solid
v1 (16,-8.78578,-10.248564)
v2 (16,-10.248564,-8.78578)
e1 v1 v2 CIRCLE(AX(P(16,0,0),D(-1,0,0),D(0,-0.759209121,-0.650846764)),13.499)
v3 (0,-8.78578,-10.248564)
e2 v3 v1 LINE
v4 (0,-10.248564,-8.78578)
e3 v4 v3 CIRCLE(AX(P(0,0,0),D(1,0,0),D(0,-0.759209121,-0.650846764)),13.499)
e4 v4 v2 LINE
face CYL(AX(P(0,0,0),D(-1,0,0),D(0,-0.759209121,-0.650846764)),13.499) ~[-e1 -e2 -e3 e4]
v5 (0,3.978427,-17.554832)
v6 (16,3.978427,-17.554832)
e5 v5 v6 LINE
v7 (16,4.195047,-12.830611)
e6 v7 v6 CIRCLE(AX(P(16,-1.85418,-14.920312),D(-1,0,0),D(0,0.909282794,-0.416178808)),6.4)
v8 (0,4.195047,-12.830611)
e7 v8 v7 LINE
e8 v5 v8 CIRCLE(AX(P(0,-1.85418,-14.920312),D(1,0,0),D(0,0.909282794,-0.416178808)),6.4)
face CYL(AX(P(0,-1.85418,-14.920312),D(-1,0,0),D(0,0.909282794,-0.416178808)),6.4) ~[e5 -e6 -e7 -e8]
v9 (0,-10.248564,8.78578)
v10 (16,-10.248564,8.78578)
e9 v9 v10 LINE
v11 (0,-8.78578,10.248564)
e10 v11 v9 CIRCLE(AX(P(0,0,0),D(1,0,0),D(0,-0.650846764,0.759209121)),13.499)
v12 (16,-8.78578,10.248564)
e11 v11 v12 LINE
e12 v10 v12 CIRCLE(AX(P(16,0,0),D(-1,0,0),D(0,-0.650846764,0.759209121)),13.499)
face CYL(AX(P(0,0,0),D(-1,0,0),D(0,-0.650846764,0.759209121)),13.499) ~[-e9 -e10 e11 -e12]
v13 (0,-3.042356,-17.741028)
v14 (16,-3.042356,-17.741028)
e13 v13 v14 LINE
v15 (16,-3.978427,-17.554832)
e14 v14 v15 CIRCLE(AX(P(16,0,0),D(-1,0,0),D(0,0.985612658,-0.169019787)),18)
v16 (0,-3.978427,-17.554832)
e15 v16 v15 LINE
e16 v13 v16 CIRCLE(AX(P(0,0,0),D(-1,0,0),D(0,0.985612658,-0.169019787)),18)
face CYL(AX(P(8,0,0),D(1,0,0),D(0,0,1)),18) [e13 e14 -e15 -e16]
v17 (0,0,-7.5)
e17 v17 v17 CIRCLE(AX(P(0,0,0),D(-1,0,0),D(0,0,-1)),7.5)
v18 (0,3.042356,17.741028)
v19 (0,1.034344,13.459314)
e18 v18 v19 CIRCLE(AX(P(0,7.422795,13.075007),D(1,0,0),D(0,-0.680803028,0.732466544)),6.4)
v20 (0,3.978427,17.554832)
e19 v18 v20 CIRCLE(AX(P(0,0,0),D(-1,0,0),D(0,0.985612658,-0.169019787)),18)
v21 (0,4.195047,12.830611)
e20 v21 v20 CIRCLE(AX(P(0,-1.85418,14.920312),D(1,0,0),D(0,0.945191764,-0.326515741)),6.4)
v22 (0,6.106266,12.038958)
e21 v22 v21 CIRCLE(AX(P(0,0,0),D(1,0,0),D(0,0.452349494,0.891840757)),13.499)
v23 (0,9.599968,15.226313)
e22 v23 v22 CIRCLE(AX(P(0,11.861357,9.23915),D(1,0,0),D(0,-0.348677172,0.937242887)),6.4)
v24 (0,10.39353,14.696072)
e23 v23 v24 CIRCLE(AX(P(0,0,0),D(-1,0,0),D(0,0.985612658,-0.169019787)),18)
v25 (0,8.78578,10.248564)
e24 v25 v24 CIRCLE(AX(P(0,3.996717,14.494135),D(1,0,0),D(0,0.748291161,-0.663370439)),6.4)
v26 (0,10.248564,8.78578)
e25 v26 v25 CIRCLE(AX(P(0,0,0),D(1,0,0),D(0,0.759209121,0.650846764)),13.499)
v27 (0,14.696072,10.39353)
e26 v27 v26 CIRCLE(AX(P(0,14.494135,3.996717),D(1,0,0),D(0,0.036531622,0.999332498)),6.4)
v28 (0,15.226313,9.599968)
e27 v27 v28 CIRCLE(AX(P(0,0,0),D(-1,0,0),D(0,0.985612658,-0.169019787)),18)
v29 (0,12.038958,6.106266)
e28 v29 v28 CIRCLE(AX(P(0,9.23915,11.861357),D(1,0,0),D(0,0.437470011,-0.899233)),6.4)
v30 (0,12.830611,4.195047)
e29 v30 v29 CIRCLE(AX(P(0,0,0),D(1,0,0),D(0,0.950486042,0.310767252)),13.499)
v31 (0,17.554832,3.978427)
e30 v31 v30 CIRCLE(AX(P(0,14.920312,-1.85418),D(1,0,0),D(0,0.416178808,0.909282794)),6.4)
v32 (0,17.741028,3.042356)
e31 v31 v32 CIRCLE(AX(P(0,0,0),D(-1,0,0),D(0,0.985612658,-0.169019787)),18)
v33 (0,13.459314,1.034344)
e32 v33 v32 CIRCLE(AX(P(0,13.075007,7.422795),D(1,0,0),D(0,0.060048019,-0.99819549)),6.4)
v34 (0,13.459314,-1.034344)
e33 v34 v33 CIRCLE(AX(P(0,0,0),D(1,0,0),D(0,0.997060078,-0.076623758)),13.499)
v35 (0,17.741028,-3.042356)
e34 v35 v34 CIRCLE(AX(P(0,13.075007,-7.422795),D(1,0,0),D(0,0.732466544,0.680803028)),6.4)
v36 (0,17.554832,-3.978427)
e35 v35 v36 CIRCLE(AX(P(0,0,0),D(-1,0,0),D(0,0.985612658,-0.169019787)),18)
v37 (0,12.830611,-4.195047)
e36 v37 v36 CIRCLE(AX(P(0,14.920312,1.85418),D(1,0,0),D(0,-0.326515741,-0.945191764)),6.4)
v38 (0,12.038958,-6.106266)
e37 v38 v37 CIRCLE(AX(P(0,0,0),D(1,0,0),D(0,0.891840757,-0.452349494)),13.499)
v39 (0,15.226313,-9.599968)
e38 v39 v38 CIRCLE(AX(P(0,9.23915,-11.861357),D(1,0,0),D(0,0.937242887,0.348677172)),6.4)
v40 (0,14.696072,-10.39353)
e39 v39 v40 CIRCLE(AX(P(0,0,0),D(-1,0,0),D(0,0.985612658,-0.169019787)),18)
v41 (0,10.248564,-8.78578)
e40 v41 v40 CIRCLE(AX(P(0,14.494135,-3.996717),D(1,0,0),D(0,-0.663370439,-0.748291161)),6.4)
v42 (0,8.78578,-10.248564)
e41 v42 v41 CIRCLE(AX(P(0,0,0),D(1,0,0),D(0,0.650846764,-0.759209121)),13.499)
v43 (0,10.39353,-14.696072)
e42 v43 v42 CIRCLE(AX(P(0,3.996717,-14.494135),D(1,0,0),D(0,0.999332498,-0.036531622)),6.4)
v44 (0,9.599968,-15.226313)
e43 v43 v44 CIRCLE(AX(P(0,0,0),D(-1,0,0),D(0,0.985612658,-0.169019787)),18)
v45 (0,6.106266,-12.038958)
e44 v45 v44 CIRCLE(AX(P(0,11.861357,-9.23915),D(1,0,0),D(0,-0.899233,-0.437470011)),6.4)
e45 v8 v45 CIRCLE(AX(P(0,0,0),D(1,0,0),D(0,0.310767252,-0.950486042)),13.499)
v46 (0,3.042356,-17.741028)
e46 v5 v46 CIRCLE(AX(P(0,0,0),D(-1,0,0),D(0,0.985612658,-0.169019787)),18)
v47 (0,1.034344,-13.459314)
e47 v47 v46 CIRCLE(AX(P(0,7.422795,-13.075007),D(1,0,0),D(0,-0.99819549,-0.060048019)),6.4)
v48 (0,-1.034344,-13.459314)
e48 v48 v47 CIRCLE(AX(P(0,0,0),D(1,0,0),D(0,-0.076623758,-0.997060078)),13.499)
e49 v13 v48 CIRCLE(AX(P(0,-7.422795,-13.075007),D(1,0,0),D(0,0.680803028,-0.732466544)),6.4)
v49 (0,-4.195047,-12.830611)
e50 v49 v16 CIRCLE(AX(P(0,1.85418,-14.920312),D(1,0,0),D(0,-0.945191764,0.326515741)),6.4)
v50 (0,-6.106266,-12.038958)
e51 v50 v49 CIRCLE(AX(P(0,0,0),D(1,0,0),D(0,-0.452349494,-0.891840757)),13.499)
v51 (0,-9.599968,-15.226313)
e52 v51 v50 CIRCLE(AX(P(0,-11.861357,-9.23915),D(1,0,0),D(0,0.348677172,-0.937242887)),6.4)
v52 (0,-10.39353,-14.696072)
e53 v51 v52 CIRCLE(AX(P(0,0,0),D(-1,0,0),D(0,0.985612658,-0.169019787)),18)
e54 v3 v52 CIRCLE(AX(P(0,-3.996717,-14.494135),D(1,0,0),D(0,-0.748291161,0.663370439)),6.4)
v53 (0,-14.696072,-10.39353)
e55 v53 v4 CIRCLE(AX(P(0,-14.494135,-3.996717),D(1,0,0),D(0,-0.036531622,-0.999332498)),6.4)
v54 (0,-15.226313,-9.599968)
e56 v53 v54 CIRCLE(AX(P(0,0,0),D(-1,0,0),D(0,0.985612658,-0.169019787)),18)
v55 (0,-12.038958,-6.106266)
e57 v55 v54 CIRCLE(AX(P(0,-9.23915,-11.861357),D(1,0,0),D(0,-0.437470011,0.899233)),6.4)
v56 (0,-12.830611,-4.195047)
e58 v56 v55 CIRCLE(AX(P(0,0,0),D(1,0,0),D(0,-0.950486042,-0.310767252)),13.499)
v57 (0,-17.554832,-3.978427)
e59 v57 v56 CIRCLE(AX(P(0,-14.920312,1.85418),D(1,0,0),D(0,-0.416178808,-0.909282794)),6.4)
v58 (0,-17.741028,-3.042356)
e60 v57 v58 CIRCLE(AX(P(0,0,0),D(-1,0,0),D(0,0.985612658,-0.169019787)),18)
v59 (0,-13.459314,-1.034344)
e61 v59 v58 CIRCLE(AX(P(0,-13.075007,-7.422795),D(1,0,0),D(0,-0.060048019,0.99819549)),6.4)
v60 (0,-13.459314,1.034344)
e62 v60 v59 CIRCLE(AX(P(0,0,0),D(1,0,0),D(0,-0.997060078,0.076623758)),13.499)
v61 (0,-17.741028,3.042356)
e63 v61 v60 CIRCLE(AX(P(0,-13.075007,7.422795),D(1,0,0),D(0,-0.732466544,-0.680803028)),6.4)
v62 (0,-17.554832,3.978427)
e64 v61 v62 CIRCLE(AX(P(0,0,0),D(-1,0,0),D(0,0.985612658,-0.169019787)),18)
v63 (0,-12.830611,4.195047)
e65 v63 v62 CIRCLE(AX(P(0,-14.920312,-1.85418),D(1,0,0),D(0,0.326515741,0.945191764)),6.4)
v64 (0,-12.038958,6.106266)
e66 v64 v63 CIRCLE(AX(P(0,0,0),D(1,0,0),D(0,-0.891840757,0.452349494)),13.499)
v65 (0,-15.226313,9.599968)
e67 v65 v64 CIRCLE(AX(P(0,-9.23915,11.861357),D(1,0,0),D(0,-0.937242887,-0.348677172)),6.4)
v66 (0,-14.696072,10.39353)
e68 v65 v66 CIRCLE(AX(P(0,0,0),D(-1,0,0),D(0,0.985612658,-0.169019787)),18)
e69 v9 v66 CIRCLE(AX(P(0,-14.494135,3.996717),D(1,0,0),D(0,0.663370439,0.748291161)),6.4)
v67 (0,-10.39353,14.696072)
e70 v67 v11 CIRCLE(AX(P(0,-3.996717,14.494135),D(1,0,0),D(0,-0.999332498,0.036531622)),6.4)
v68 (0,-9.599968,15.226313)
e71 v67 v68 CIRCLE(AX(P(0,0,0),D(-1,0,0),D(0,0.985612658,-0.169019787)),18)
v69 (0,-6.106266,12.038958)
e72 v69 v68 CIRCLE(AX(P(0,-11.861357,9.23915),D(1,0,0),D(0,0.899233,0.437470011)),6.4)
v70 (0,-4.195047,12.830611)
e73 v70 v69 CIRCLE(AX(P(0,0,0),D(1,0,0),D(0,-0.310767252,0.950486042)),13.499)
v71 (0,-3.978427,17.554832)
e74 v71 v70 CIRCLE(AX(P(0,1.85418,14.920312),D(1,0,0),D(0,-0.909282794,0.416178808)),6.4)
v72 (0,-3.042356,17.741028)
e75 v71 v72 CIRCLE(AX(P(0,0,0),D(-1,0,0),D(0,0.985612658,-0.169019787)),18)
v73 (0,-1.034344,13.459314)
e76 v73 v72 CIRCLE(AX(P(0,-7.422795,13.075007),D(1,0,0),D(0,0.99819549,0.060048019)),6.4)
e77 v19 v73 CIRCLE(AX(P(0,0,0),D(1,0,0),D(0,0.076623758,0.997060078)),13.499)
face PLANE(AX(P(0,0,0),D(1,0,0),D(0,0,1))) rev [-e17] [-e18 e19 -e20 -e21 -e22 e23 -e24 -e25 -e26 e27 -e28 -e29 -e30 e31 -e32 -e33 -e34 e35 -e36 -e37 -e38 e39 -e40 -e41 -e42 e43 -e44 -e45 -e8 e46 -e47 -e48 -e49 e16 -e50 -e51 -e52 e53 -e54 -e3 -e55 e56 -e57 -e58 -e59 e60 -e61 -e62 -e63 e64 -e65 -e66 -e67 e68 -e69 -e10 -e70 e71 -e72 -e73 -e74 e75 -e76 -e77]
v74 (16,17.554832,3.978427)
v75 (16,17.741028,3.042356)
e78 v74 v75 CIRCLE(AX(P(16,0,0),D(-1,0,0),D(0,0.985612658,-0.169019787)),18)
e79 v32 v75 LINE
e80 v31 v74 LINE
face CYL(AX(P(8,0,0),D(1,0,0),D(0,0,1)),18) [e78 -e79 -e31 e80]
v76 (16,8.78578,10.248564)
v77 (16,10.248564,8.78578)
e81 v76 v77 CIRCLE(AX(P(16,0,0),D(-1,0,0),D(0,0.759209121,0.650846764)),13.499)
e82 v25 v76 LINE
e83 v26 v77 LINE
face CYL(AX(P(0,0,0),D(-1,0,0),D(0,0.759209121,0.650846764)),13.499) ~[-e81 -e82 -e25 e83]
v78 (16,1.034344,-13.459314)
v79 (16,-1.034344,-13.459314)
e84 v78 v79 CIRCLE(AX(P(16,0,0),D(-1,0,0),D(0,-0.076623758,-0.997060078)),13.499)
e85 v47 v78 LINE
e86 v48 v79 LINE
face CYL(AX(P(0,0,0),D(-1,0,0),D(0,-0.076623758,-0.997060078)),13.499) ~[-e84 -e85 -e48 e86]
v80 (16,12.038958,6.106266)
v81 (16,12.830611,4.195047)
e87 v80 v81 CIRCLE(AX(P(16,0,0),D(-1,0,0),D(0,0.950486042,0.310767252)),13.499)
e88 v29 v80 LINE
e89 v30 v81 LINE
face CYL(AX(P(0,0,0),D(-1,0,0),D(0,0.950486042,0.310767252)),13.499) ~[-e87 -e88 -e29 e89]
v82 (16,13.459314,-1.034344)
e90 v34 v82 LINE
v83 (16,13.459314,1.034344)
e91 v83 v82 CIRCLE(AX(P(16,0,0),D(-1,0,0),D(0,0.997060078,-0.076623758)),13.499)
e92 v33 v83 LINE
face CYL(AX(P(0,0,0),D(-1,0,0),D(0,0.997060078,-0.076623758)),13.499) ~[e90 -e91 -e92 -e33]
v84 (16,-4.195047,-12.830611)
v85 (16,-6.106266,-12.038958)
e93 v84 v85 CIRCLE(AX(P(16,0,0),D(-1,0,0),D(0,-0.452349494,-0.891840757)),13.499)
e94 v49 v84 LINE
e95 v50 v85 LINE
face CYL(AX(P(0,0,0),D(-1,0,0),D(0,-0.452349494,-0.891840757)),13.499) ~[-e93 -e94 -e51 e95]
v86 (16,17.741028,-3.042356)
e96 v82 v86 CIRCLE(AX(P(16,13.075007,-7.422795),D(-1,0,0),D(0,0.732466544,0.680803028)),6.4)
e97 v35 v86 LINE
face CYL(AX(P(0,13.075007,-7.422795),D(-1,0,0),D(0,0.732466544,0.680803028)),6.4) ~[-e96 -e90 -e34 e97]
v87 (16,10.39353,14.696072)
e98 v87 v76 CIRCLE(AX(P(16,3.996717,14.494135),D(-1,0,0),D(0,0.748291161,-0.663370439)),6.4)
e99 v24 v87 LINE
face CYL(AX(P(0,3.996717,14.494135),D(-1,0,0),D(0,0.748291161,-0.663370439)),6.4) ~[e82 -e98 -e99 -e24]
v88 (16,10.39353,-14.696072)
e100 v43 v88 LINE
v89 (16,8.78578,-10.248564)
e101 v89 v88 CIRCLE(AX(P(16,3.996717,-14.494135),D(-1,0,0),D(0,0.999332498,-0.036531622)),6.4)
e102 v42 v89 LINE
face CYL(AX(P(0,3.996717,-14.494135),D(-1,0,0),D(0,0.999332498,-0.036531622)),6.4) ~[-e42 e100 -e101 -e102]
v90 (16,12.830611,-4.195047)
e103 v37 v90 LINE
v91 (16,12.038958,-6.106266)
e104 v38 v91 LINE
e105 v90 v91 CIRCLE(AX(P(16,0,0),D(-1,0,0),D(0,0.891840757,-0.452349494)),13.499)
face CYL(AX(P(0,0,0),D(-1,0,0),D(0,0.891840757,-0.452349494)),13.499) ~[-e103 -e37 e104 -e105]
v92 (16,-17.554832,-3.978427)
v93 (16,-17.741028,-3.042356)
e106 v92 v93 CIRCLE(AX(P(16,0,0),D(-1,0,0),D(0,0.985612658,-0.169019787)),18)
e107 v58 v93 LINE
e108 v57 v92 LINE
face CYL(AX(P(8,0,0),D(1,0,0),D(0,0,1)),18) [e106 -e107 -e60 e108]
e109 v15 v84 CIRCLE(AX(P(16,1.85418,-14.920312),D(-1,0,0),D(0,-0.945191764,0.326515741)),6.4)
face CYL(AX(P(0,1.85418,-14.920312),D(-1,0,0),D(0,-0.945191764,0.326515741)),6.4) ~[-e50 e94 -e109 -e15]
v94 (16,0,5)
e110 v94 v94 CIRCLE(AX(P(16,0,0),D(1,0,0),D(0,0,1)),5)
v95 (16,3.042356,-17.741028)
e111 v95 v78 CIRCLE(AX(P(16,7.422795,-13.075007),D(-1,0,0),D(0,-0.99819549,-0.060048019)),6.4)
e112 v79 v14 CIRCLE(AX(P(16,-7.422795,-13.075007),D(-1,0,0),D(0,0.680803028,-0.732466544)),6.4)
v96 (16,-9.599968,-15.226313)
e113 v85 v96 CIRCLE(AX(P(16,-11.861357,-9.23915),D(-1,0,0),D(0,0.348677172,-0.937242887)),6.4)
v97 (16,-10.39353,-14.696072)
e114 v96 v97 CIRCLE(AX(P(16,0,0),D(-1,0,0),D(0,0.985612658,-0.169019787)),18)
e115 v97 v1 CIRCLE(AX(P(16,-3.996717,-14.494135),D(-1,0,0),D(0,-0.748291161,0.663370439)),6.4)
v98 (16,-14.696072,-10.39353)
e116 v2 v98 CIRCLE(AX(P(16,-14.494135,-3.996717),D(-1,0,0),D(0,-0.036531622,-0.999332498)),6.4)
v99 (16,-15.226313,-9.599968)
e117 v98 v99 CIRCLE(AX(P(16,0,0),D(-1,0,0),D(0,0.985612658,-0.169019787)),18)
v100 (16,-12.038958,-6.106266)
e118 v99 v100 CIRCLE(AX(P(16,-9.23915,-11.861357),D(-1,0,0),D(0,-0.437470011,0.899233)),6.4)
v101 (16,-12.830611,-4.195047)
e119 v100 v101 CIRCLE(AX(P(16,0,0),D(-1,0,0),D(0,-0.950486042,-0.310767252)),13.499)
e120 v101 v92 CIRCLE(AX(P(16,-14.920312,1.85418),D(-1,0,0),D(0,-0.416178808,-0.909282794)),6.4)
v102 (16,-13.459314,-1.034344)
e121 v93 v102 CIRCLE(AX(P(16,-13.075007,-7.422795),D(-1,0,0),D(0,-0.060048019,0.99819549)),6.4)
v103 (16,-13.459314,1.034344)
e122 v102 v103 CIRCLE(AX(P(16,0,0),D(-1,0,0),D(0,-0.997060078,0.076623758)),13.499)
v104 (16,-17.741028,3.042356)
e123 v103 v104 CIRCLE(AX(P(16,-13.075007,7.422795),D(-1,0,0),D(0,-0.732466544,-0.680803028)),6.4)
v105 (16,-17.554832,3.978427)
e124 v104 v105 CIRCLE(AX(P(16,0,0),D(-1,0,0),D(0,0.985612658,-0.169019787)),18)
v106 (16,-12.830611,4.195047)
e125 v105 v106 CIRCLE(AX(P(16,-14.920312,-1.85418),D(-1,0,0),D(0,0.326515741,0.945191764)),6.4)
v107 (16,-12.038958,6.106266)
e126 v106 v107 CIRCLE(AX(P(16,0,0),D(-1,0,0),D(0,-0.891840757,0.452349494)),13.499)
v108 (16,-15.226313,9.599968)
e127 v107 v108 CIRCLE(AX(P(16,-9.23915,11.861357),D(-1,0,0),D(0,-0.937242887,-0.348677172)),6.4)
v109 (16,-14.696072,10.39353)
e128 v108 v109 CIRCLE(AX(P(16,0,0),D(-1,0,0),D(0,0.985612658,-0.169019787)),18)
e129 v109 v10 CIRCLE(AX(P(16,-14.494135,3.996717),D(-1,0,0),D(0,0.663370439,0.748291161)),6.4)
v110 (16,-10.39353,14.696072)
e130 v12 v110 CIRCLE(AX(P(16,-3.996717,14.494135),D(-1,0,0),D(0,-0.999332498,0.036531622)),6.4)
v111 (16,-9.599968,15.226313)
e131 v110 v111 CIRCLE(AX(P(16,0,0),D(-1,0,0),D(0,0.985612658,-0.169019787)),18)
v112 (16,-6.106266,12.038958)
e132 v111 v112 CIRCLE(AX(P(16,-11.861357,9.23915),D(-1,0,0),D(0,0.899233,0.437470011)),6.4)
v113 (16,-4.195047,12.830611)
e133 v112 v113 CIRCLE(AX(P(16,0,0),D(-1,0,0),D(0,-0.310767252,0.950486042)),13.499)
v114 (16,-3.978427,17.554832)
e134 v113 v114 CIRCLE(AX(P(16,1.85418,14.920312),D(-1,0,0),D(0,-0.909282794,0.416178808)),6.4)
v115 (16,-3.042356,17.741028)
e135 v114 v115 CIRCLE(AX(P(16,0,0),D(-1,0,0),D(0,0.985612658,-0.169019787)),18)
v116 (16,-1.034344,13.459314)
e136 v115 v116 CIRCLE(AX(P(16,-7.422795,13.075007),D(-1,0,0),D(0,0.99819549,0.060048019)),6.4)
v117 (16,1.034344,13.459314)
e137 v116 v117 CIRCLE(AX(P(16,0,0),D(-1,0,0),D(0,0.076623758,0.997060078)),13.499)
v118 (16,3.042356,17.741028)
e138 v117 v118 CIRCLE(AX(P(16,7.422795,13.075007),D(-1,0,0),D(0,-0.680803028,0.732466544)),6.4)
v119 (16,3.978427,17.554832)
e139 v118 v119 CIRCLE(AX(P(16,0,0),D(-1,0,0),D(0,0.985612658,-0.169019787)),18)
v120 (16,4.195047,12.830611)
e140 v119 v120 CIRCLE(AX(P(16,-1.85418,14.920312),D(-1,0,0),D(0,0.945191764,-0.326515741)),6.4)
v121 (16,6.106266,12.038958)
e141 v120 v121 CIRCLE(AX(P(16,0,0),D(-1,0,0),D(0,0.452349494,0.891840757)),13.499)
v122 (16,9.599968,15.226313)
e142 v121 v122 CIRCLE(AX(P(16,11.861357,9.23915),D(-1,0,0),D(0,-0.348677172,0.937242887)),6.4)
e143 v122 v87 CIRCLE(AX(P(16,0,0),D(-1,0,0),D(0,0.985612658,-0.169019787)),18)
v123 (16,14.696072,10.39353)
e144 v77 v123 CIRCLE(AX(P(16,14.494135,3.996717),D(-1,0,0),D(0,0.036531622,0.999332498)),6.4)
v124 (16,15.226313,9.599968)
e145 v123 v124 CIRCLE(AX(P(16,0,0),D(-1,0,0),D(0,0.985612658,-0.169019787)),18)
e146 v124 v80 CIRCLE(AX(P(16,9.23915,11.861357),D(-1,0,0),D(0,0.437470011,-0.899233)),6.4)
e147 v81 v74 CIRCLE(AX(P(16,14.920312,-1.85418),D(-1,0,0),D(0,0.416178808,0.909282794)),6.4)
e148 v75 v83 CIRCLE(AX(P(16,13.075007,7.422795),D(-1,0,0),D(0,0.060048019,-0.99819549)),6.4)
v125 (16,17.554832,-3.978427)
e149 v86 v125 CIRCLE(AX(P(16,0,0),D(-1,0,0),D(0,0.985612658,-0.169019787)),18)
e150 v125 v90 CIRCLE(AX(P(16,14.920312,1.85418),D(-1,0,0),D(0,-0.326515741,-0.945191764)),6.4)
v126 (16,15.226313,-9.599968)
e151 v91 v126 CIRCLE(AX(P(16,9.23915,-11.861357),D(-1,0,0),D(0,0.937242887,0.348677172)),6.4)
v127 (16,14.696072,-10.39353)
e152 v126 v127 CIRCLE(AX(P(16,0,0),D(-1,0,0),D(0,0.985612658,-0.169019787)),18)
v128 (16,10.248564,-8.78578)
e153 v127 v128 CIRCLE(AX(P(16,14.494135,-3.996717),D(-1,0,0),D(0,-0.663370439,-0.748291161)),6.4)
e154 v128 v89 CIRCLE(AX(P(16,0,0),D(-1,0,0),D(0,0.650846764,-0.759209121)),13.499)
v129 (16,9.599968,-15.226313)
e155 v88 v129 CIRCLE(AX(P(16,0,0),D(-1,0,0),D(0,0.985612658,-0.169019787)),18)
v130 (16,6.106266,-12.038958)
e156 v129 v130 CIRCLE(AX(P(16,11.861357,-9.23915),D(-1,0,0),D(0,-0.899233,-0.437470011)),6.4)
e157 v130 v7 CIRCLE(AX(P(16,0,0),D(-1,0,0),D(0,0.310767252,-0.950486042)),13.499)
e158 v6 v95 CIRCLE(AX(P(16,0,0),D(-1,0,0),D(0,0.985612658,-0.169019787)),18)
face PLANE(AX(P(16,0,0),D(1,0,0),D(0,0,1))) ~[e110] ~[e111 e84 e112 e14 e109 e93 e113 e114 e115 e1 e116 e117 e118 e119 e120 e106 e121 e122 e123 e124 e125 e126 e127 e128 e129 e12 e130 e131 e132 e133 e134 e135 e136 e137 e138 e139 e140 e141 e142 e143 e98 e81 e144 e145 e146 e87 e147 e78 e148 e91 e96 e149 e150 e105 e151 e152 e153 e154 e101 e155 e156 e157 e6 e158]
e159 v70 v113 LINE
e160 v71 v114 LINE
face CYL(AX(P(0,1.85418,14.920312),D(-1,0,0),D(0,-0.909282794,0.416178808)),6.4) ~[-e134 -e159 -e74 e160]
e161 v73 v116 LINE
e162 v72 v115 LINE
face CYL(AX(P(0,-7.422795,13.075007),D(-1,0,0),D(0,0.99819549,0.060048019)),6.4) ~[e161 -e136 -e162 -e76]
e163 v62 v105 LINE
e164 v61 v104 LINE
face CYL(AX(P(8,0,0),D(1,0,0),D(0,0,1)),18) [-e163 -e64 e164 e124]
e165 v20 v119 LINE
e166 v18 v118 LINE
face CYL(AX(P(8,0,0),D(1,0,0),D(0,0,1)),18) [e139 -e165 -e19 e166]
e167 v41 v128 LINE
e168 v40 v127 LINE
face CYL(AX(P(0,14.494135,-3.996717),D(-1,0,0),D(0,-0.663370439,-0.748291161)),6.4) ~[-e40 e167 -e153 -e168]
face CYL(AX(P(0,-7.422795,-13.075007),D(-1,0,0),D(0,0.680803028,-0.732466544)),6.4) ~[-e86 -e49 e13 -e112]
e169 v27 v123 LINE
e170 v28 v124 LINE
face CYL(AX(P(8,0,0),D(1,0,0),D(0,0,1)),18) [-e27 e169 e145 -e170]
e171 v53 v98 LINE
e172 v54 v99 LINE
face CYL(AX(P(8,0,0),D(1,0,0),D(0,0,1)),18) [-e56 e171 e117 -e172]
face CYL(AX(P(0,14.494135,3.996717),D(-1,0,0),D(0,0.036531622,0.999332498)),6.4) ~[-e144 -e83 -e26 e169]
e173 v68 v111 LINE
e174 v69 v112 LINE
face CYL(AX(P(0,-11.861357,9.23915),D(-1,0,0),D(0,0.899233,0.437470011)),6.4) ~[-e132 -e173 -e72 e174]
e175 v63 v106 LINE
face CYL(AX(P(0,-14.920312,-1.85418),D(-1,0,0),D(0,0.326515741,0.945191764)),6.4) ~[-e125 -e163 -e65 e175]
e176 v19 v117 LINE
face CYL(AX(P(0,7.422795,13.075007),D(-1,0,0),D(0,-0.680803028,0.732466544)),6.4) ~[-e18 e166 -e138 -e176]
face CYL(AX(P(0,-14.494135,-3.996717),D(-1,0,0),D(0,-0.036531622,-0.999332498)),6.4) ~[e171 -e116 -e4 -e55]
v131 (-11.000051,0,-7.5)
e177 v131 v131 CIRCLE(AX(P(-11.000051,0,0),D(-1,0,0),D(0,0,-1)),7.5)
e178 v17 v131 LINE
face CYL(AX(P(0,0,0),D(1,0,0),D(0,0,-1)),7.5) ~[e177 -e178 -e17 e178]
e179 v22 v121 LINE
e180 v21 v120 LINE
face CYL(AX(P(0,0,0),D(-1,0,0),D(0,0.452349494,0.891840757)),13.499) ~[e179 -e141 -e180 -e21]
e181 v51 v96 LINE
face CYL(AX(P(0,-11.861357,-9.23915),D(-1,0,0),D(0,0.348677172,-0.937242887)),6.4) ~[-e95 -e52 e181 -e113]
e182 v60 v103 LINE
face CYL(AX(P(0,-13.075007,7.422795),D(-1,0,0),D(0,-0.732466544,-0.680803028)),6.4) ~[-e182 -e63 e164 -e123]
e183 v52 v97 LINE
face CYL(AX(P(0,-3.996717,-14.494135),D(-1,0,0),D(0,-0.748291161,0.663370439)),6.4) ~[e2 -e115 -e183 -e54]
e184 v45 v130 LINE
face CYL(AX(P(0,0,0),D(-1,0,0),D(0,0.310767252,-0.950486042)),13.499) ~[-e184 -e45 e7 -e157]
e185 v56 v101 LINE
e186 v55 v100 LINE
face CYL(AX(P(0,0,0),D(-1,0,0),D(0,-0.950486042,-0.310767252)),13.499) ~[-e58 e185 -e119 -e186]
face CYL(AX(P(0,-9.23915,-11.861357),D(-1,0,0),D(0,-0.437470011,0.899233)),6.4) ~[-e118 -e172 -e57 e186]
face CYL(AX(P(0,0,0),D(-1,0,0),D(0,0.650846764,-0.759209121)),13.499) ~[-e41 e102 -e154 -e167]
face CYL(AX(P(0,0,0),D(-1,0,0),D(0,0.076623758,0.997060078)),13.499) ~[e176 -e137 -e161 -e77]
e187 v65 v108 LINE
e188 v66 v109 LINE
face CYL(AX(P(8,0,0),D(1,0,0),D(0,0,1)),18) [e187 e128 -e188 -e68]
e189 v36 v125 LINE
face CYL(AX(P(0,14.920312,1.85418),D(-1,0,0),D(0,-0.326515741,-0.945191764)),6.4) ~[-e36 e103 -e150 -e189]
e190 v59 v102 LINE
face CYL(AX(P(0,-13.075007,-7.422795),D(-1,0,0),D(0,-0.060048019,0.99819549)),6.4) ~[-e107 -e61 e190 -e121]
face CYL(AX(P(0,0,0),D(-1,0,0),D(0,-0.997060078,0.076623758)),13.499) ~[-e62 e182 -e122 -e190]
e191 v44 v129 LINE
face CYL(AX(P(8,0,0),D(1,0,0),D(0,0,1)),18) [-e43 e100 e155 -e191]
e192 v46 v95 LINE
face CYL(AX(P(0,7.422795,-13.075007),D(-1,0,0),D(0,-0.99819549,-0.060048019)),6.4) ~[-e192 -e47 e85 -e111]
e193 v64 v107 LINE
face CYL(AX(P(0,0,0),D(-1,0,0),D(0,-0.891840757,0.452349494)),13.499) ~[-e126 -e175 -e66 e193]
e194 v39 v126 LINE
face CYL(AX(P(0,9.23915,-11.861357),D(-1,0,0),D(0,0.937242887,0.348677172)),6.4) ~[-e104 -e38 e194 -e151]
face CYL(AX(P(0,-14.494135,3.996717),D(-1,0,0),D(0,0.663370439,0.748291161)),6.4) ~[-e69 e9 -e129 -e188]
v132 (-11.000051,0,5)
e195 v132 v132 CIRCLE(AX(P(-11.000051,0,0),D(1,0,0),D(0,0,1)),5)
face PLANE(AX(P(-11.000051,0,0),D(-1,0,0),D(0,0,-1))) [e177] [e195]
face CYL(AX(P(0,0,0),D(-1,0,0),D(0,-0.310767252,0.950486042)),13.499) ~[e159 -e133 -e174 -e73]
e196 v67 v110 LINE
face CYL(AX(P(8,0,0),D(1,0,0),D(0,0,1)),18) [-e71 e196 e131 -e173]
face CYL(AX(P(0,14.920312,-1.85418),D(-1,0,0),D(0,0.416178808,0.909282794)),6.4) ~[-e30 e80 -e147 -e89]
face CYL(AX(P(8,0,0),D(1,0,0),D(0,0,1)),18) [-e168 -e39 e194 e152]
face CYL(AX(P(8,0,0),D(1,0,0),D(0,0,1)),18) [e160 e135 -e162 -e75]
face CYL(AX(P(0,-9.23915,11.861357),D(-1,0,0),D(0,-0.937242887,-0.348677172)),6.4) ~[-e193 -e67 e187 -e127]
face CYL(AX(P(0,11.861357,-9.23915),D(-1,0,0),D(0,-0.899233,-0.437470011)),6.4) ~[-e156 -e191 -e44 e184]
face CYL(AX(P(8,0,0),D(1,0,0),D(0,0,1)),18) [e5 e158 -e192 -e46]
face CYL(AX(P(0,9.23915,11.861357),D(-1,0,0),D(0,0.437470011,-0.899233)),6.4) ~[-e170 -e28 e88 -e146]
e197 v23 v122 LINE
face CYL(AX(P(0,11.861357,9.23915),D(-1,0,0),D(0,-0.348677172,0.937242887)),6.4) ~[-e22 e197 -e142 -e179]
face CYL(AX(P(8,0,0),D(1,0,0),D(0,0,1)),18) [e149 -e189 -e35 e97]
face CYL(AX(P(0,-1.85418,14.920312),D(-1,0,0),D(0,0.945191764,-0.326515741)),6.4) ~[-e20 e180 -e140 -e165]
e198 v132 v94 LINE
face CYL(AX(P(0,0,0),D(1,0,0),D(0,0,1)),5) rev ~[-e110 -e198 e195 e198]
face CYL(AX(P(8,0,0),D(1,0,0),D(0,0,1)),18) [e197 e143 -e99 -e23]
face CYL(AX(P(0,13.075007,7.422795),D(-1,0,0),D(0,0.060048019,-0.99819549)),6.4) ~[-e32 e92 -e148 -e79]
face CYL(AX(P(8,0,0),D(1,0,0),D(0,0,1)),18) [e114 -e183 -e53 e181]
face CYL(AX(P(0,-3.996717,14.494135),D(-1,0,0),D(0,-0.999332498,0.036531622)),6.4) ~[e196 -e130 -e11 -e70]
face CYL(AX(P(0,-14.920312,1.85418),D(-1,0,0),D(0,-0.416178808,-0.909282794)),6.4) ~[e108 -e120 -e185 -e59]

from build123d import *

# Parameters (mm, degrees)
BASPROSKE_W        = 16
BASPROSKE_H        = 18
TOOTHCUT_DEPTH     = 31.066592757
TEETHCUTS_COUNT    = 16
TEETHCUTS_ANGLE    = 337.5
HUBNEAONESKE_R     = 7.5
HUBNEARONE_DEPTH   = 22.0000508
BORSKE_R           = 5
BORE_DEPTH         = 38.0000508
CUT_EXTRUDE1_START = -11
SKETCH1_R          = 7.5
CUT_EXTRUDE1_DEPTH = 11


with BuildPart() as part:
    # BasProSke → Base-Revolve (revolve)
    with BuildSketch(Plane(origin=(0, 0, 0), x_dir=(1, 0, 0), z_dir=(0, 1, 0)), mode=Mode.PRIVATE) as base_revolve_sk:
        with Locations((8, 9)):
            Rectangle(BASPROSKE_W, BASPROSKE_H)
    revolve(base_revolve_sk.sketch.rotate(Axis((-10, 0, 0), (1, 0, 0)), 180), axis=Axis((-10, 0, 0), (1, 0, 0)))

    # TooCutSke → ToothCut (cut, through all)
    with BuildSketch(Plane(origin=(0, 0, 0), x_dir=(0, 0, -1), z_dir=(1, 0, 0))):
        with BuildLine():
            ThreePointArc((1.03434411, 13.459313997), (0, 13.499), (-1.03434411, 13.459313997))
            ThreePointArc((-1.03434411, 13.459313997), (-1.635143665, 15.806872195), (-3.065655864, 17.762792553))
            ThreePointArc((-3.065655864, 17.762792553), (0, 18.0254), (3.065655864, 17.762792553))
            ThreePointArc((3.065655864, 17.762792553), (1.635143665, 15.806872195), (1.03434411, 13.459313997))
        make_face()
    toothcut = extrude(amount=TOOTHCUT_DEPTH, mode=Mode.SUBTRACT)

    # TeethCuts: ToothCut ×16 about axis
    teethcuts_axis = Axis((-10, 0, 0), (1, 0, 0))
    for i in range(1, TEETHCUTS_COUNT):
        add(toothcut.rotate(teethcuts_axis, i * TEETHCUTS_ANGLE / (TEETHCUTS_COUNT - 1)), mode=Mode.SUBTRACT)

    # HubNeaOneSke → HubNearOne (add)
    with BuildSketch(Plane.ZY):
        with Locations(Location((0, 0, 0), (0, 0, 180))):
            Circle(HUBNEAONESKE_R)
    extrude(amount=HUBNEARONE_DEPTH)

    # BorSke → Bore (cut, symmetric)
    with BuildSketch(Plane(origin=(0, 0, 0), x_dir=(0, 0, -1), z_dir=(1, 0, 0))):
        with Locations(Location((0, 0, 0), (0, 0, 180))):
            Circle(BORSKE_R)
    extrude(amount=BORE_DEPTH, both=True, mode=Mode.SUBTRACT)

    # Sketch1 → Cut-Extrude1 (cut)
    with BuildSketch(Plane.ZY.offset(22.0000508).offset(CUT_EXTRUDE1_START)):
        with Locations(Location((0, 0, 0), (0, 0, 180))):
            Circle(SKETCH1_R)
    extrude(amount=CUT_EXTRUDE1_DEPTH, mode=Mode.SUBTRACT)


solid = part.part
